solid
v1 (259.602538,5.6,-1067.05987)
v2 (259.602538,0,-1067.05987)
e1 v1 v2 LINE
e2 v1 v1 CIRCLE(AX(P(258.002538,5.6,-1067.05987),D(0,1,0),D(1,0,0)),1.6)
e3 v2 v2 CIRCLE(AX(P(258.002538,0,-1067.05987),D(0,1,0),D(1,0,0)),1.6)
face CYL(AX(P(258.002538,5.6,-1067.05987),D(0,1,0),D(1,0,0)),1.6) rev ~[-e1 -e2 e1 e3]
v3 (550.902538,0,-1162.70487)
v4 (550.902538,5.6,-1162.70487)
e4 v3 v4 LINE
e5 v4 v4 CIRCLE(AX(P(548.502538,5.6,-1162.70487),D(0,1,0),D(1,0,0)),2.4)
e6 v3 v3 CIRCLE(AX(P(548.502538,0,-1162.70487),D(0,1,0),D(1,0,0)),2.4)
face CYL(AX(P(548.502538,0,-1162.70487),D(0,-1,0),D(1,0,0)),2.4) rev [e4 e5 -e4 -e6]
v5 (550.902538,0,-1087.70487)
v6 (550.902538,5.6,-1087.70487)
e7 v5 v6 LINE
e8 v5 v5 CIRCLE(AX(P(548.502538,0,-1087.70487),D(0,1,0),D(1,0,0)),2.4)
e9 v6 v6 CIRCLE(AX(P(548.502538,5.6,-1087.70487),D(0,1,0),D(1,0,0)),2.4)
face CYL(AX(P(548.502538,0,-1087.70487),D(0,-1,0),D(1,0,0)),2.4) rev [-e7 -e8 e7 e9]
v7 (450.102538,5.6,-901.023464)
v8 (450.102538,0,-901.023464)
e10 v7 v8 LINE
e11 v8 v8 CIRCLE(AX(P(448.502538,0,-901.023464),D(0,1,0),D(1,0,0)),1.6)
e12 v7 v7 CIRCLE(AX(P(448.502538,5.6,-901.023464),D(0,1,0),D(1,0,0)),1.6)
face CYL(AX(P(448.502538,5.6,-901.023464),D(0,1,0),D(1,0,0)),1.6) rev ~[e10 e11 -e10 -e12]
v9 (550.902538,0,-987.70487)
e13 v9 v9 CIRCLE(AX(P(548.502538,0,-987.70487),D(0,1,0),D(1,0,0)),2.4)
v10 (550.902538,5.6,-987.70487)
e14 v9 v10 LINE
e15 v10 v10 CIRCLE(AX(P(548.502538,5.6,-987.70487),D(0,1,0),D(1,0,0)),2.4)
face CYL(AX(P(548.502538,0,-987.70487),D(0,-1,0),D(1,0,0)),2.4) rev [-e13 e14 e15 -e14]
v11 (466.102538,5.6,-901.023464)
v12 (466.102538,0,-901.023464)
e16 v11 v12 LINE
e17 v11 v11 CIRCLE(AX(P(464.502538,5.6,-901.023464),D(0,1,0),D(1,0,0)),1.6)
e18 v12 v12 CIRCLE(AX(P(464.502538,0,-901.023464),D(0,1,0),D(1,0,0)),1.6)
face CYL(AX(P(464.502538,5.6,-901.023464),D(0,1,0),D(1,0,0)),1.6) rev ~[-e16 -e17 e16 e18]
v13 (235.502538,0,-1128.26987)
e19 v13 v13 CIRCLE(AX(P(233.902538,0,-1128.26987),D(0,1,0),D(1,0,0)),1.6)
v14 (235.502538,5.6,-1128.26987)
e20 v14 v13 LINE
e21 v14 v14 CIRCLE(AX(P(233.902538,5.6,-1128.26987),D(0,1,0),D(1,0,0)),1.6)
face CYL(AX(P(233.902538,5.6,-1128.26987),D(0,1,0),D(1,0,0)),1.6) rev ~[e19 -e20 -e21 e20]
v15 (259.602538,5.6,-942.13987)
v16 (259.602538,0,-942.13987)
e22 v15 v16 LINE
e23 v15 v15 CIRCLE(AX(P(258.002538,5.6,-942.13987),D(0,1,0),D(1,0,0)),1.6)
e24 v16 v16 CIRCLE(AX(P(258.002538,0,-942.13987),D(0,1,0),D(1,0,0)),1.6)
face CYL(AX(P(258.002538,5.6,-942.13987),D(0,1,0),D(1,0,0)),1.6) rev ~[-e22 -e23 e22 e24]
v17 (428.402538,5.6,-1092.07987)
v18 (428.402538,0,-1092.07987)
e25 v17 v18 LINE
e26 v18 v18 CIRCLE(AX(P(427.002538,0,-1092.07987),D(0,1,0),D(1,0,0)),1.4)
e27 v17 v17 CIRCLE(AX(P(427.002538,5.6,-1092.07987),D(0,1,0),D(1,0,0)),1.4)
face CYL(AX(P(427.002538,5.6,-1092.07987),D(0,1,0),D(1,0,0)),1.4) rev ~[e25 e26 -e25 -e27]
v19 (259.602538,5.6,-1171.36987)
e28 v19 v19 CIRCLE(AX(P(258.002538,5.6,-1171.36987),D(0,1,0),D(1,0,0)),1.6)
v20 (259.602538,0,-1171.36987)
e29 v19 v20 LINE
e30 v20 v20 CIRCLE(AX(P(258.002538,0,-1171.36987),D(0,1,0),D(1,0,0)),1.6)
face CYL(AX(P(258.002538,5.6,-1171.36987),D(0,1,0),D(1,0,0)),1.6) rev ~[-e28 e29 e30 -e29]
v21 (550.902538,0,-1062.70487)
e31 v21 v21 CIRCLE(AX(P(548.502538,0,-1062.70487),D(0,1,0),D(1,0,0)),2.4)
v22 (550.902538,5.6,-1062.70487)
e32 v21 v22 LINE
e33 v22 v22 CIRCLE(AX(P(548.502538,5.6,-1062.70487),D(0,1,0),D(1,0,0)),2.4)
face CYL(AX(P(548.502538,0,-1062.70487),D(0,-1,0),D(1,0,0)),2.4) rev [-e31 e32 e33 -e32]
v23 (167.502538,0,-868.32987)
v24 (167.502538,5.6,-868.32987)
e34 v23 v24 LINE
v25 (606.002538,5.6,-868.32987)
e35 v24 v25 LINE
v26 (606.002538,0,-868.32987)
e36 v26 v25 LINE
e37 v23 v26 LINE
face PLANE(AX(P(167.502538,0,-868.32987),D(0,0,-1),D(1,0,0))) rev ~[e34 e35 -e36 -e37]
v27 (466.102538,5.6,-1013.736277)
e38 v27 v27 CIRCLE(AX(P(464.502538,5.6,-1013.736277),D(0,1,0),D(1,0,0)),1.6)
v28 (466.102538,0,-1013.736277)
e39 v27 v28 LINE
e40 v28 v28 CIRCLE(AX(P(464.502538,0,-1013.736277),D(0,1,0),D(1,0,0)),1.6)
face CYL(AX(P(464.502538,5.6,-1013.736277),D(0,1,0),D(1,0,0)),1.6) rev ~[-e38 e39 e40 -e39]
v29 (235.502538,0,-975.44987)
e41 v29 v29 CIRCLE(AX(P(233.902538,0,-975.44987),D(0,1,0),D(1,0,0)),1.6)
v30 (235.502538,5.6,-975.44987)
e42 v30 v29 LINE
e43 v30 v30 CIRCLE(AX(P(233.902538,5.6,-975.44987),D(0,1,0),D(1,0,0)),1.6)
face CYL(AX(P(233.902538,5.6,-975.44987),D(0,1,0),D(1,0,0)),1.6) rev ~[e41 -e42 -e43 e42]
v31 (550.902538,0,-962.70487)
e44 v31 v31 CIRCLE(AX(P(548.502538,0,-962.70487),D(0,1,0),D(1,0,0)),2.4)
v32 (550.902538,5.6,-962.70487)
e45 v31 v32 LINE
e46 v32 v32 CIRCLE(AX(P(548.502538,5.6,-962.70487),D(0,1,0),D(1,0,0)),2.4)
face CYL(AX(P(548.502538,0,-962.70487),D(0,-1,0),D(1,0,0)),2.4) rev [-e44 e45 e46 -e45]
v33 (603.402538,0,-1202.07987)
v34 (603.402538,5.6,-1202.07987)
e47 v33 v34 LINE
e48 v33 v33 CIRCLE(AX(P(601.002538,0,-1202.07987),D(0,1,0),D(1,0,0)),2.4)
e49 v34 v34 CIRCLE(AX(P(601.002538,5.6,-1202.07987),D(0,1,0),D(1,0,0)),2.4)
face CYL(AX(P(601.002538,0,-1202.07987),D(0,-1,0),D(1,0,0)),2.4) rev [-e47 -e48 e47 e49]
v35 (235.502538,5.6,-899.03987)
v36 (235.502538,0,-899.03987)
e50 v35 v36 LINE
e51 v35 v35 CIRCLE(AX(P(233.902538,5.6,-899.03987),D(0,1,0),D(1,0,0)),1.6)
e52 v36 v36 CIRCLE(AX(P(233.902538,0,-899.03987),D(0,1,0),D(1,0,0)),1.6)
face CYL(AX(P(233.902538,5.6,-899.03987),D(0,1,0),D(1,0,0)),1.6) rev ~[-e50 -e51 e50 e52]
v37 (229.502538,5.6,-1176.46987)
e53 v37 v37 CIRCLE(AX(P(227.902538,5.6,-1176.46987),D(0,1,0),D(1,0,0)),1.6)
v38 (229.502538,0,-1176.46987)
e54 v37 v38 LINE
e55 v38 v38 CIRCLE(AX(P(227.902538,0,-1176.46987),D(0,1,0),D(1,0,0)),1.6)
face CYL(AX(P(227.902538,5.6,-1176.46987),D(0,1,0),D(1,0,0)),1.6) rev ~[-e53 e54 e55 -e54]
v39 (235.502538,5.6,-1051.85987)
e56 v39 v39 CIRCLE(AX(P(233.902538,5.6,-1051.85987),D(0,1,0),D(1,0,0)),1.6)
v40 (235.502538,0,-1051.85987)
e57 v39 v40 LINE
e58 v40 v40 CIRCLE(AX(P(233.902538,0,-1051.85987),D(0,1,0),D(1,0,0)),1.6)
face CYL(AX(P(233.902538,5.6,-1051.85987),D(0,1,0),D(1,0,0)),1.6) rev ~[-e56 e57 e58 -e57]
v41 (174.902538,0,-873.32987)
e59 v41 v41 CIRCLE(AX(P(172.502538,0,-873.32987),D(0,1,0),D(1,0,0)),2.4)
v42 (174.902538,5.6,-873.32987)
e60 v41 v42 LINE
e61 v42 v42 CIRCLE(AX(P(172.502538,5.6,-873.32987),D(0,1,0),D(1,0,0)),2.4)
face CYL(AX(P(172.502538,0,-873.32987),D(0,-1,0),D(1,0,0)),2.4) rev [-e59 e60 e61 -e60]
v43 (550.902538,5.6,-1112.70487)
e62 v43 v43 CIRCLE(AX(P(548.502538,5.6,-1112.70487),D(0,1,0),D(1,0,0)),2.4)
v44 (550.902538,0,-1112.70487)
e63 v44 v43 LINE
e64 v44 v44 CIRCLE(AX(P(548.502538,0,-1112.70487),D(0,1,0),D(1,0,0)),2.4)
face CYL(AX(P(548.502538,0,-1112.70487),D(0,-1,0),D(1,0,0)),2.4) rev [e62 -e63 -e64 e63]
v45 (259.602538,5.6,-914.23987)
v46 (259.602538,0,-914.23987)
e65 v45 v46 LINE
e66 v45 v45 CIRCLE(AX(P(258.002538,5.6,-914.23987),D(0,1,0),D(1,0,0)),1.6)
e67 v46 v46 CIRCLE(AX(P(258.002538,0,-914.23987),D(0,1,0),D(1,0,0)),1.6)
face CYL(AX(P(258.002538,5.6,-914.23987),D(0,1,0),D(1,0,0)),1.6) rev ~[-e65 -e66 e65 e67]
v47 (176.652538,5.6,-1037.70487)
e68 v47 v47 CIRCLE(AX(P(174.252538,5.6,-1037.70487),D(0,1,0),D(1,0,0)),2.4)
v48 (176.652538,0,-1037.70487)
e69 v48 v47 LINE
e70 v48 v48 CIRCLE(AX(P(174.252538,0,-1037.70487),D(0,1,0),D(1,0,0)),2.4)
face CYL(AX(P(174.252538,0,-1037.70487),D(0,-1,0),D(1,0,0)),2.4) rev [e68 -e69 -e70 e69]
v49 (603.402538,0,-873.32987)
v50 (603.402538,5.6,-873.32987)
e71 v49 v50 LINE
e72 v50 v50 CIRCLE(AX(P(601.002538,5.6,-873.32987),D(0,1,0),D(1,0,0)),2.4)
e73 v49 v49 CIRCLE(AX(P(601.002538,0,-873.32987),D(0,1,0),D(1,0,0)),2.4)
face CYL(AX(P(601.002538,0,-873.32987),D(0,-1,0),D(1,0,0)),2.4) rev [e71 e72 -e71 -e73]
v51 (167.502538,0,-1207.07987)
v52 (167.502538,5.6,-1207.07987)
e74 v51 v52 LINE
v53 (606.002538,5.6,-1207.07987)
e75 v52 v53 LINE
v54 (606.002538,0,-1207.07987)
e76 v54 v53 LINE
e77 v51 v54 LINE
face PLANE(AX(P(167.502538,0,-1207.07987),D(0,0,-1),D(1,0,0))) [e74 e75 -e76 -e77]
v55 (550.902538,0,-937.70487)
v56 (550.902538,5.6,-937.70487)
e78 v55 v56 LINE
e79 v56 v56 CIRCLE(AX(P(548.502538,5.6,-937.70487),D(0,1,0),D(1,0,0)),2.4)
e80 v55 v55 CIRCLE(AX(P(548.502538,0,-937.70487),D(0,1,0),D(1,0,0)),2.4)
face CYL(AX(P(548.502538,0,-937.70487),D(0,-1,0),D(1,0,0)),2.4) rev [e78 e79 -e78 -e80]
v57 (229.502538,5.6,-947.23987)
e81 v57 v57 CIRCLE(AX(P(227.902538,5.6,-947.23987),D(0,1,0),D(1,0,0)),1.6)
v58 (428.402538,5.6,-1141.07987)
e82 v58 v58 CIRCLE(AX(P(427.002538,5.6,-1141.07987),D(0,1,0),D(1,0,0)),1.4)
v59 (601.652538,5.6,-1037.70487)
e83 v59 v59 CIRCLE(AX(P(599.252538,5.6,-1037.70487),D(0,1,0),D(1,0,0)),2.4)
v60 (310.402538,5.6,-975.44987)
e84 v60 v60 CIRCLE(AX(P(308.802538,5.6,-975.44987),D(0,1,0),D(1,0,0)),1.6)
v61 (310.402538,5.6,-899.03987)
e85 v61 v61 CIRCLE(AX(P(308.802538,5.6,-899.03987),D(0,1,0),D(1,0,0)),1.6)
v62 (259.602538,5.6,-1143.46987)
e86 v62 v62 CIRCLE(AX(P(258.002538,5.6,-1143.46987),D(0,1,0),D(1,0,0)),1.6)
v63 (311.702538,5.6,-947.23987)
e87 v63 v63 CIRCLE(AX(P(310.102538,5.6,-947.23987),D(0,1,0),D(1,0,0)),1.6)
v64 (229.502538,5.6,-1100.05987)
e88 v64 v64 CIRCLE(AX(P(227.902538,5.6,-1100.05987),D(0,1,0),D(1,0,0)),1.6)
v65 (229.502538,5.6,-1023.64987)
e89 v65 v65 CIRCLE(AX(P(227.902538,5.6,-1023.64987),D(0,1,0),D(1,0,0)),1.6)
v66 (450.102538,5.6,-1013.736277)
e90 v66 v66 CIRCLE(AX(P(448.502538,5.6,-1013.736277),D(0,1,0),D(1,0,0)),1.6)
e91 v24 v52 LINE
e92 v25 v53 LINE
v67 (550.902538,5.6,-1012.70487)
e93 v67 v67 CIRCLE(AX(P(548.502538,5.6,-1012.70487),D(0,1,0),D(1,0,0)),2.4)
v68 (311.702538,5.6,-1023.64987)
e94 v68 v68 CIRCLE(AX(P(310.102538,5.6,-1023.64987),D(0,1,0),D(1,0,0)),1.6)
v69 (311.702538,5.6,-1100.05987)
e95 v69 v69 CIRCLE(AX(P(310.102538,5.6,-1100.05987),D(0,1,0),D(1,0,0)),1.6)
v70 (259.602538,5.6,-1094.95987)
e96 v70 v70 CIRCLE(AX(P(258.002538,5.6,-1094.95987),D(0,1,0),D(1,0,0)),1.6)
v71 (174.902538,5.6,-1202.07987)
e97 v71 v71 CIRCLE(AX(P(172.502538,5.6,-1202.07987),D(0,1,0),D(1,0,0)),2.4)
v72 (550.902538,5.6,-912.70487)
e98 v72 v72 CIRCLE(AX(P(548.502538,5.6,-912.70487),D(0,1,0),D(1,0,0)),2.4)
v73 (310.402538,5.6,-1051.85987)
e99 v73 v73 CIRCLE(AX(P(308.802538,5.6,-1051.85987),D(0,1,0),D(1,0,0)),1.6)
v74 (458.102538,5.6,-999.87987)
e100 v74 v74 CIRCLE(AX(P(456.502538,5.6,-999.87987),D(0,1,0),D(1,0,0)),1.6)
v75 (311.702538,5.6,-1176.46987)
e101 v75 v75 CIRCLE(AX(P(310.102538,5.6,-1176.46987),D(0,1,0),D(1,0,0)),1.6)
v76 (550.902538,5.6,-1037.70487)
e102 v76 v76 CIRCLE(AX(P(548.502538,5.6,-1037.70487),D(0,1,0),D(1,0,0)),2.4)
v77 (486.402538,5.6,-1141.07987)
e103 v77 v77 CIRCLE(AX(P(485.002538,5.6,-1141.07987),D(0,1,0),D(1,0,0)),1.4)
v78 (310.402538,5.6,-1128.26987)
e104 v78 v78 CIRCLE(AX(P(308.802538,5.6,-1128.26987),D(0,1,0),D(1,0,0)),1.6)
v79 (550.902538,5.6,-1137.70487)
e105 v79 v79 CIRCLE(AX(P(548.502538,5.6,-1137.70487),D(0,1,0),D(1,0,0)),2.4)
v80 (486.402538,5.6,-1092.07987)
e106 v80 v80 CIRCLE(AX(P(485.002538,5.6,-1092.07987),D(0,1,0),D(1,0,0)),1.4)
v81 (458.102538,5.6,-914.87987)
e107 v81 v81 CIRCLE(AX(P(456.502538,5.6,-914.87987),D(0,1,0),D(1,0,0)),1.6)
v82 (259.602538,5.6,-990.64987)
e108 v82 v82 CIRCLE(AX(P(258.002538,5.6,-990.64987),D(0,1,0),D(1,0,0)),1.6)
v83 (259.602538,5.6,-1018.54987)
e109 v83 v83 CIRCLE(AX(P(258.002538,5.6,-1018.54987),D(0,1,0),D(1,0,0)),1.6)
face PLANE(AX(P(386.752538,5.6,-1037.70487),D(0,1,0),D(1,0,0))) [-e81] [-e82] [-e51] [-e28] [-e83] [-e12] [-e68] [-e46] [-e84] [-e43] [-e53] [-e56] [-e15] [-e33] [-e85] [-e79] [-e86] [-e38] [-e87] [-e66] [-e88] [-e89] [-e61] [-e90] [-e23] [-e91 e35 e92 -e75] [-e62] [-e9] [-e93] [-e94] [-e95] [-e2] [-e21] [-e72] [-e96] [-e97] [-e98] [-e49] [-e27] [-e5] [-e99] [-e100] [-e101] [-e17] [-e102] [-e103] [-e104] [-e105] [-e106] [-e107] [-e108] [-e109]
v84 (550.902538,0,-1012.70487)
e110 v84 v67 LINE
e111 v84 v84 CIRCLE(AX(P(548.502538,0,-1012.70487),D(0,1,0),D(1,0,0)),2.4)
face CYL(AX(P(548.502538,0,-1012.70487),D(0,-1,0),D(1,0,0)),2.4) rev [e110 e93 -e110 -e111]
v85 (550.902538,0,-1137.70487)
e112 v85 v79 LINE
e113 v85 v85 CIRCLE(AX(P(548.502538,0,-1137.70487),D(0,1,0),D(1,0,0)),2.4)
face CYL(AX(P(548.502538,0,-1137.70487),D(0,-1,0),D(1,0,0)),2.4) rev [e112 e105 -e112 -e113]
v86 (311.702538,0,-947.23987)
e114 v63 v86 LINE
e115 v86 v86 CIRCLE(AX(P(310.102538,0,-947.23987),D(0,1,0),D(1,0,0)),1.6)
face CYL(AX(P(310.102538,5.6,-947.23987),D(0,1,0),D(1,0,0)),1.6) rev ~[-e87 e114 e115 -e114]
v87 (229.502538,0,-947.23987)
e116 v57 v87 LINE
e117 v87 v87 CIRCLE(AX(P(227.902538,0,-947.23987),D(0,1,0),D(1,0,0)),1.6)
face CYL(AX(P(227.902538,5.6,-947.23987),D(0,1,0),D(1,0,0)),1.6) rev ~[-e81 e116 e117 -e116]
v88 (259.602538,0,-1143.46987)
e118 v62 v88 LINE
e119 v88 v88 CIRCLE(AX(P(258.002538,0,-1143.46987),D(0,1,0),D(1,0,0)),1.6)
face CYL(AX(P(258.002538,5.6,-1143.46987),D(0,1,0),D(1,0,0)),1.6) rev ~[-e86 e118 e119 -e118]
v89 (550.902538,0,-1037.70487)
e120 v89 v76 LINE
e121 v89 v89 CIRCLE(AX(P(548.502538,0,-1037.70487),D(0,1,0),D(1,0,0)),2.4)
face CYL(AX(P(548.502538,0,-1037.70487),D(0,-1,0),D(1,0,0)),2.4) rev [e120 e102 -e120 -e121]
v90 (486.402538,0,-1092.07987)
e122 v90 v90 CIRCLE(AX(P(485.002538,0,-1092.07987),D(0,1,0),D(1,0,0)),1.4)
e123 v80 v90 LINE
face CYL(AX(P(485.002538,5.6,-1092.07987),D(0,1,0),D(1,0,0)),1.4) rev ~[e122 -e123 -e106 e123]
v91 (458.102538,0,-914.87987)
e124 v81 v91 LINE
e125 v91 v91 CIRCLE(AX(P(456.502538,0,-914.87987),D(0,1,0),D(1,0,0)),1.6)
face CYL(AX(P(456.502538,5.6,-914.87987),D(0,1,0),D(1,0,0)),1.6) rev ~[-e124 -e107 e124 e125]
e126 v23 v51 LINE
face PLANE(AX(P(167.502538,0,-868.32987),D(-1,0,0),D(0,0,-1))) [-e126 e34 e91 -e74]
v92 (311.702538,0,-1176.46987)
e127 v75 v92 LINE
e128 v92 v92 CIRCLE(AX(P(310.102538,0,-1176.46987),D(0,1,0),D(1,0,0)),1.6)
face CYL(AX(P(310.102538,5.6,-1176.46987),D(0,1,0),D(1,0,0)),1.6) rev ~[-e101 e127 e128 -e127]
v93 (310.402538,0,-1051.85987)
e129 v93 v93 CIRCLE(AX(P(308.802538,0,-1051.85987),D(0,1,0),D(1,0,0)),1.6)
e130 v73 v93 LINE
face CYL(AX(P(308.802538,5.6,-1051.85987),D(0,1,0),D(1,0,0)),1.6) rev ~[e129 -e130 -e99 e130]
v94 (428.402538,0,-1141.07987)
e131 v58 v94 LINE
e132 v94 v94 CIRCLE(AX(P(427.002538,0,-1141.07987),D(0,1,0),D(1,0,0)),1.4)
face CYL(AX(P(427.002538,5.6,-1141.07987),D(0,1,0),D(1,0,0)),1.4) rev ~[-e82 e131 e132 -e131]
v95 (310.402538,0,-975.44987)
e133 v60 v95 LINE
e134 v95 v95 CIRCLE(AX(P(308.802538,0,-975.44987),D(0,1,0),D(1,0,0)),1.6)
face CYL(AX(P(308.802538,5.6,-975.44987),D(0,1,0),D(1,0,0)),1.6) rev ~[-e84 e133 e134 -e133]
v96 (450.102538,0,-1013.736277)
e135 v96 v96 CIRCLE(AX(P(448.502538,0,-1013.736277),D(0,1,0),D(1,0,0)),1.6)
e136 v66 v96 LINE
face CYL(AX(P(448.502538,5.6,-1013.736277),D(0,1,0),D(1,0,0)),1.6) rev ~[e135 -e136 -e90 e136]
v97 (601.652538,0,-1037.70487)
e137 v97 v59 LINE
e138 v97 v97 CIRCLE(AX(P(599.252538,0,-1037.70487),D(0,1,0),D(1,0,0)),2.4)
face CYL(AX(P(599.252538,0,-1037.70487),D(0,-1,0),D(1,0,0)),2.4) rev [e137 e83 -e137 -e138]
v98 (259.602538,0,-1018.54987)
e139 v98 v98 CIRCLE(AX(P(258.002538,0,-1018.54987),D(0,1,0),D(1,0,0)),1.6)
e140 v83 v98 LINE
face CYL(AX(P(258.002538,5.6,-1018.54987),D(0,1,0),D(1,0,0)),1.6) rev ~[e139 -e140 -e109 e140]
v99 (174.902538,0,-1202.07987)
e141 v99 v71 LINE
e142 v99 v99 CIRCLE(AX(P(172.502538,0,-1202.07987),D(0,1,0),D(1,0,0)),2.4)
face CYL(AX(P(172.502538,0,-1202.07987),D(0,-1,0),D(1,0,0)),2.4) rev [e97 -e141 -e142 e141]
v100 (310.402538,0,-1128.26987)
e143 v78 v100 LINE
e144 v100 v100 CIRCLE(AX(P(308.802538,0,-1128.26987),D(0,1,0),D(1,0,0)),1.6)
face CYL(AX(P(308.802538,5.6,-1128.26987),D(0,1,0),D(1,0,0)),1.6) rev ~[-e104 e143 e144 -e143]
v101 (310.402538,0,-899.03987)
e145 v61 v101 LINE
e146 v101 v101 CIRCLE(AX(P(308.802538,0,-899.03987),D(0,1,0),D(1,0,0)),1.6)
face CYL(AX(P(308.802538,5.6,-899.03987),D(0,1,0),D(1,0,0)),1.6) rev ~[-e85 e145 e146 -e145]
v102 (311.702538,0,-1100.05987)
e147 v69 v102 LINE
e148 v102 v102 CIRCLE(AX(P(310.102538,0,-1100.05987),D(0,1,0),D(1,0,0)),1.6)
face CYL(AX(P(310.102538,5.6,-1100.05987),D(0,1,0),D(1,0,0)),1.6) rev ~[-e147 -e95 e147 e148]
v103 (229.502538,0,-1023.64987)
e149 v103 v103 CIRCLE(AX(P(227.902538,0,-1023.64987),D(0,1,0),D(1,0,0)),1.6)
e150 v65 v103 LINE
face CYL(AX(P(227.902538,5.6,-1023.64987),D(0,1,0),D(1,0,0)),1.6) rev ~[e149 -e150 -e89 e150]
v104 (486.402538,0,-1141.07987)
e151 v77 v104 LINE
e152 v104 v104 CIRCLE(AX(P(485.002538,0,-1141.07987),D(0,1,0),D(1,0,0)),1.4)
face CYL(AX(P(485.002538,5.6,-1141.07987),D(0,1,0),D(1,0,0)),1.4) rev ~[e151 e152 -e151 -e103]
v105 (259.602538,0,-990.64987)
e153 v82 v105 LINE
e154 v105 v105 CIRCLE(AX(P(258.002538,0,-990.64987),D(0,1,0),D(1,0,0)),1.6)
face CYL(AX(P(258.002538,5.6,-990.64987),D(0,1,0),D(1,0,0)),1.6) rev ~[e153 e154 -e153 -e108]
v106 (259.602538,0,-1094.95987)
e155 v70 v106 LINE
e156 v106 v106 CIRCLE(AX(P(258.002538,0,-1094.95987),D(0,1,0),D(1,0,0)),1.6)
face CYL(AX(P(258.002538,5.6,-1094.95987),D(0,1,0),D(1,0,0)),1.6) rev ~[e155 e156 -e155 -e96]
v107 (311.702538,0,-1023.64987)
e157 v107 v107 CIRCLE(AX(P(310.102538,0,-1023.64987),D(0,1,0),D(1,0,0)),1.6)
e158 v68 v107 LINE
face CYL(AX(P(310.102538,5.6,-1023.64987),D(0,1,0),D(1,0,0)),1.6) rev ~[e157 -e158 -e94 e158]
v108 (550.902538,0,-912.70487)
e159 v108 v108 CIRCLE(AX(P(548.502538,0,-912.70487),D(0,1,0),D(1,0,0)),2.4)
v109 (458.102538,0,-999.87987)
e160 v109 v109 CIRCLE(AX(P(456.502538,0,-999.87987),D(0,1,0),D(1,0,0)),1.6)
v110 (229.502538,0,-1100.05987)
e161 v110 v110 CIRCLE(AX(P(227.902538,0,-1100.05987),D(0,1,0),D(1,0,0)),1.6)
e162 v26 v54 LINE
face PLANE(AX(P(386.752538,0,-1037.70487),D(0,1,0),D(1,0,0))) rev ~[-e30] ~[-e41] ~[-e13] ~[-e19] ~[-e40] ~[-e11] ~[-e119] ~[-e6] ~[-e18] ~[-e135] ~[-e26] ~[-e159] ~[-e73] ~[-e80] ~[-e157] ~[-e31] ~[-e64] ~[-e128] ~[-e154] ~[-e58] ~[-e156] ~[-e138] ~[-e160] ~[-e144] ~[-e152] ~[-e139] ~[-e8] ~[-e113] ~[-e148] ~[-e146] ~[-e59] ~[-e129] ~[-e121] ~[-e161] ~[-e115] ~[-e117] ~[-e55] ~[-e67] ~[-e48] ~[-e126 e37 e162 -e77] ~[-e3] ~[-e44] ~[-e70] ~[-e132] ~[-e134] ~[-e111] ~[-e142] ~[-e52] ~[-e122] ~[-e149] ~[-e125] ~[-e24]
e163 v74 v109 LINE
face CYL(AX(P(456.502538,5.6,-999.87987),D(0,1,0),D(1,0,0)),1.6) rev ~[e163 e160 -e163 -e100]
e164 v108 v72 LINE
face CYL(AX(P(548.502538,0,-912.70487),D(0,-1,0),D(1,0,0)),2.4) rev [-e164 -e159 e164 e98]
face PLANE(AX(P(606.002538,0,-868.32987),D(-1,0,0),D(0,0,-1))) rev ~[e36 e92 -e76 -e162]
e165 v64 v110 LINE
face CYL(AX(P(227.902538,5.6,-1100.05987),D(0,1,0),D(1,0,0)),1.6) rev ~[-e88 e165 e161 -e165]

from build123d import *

# Parameters (mm, degrees)
BACKPLANE_W         = 438.500000006
BACKPLANE_H         = 338.750000007
BACKPLANE_R         = 2.4
BOSS_EXTRUDE2_DEPTH = 5.6
SKETCH5_R           = 1.6
SKETCH5_R_2         = 1.4
CUT_EXTRUDE1_DEPTH  = 6.6


with BuildPart() as part:
    # Backplane → Boss-Extrude2 (new body)
    with BuildSketch(Plane(origin=(0, 0, 0), x_dir=(1, 0, 0), z_dir=(0, 1, 0))):
        with Locations((386.752537879, 1037.704870414)):
            Rectangle(BACKPLANE_W, BACKPLANE_H)
        with Locations((172.502537876, 1202.079870418)):
            Circle(BACKPLANE_R, mode=Mode.SUBTRACT)
        with Locations((601.002537882, 1202.079870418)):
            Circle(BACKPLANE_R, mode=Mode.SUBTRACT)
        with Locations((599.252537877, 1037.704870414)):
            Circle(BACKPLANE_R, mode=Mode.SUBTRACT)
        with Locations((601.002537882, 873.329870411)):
            Circle(BACKPLANE_R, mode=Mode.SUBTRACT)
        with Locations((172.502537876, 873.329870413)):
            Circle(BACKPLANE_R, mode=Mode.SUBTRACT)
        with Locations((174.252537874, 1037.704870414)):
            Circle(BACKPLANE_R, mode=Mode.SUBTRACT)
        with Locations((548.502537882, 1162.704870411)):
            Circle(BACKPLANE_R, mode=Mode.SUBTRACT)
        with Locations((548.502537882, 1137.704870411)):
            Circle(BACKPLANE_R, mode=Mode.SUBTRACT)
        with Locations((548.502537882, 1112.704870411)):
            Circle(BACKPLANE_R, mode=Mode.SUBTRACT)
        with Locations((548.502537882, 1087.704870411)):
            Circle(BACKPLANE_R, mode=Mode.SUBTRACT)
        with Locations((548.502537882, 1062.704870411)):
            Circle(BACKPLANE_R, mode=Mode.SUBTRACT)
        with Locations((548.502537882, 1037.704870411)):
            Circle(BACKPLANE_R, mode=Mode.SUBTRACT)
        with Locations((548.502537882, 1012.704870411)):
            Circle(BACKPLANE_R, mode=Mode.SUBTRACT)
        with Locations((548.502537882, 987.704870411)):
            Circle(BACKPLANE_R, mode=Mode.SUBTRACT)
        with Locations((548.502537882, 962.704870411)):
            Circle(BACKPLANE_R, mode=Mode.SUBTRACT)
        with Locations((548.502537882, 937.704870411)):
            Circle(BACKPLANE_R, mode=Mode.SUBTRACT)
        with Locations((548.502537882, 912.704870411)):
            Circle(BACKPLANE_R, mode=Mode.SUBTRACT)
    extrude(amount=BOSS_EXTRUDE2_DEPTH)

    # Sketch5 → Cut-Extrude1 (cut, through all)
    with BuildSketch(Plane(origin=(0, 5.6, 0), x_dir=(1, 0, 0), z_dir=(0, 1, 0))):
        with Locations((227.902537876, 1176.469870418)):
            Circle(SKETCH5_R)
        with Locations((310.102537876, 1176.469870418)):
            Circle(SKETCH5_R)
        with Locations((308.802537876, 1128.269870418)):
            Circle(SKETCH5_R)
        with Locations((233.902537876, 1128.269870418)):
            Circle(SKETCH5_R)
        with Locations((258.002537876, 1171.369870418)):
            Circle(SKETCH5_R)
        with Locations((258.002537876, 1143.469870418)):
            Circle(SKETCH5_R)
        with Locations((310.102537876, 1100.059870418)):
            Circle(SKETCH5_R)
        with Locations((308.802537876, 1051.859870418)):
            Circle(SKETCH5_R)
        with Locations((233.902537876, 1051.859870418)):
            Circle(SKETCH5_R)
        with Locations((258.002537876, 1094.959870418)):
            Circle(SKETCH5_R)
        with Locations((258.002537876, 1067.059870418)):
            Circle(SKETCH5_R)
        with Locations((227.902537876, 1100.059870418)):
            Circle(SKETCH5_R)
        with Locations((310.102537876, 1023.649870418)):
            Circle(SKETCH5_R)
        with Locations((308.802537876, 975.449870418)):
            Circle(SKETCH5_R)
        with Locations((233.902537876, 975.449870418)):
            Circle(SKETCH5_R)
        with Locations((258.002537876, 1018.549870418)):
            Circle(SKETCH5_R)
        with Locations((258.002537876, 990.649870418)):
            Circle(SKETCH5_R)
        with Locations((227.902537876, 1023.649870418)):
            Circle(SKETCH5_R)
        with Locations((310.102537876, 947.239870418)):
            Circle(SKETCH5_R)
        with Locations((308.802537876, 899.039870418)):
            Circle(SKETCH5_R)
        with Locations((233.902537876, 899.039870418)):
            Circle(SKETCH5_R)
        with Locations((258.002537876, 942.139870418)):
            Circle(SKETCH5_R)
        with Locations((258.002537876, 914.239870418)):
            Circle(SKETCH5_R)
        with Locations((227.902537876, 947.239870418)):
            Circle(SKETCH5_R)
        with Locations((464.502537882, 1013.736276878)):
            Circle(SKETCH5_R)
        with Locations((456.502537882, 999.879870418)):
            Circle(SKETCH5_R)
        with Locations((448.502537882, 1013.736276878)):
            Circle(SKETCH5_R)
        with Locations((464.502537882, 901.023463957)):
            Circle(SKETCH5_R)
        with Locations((448.502537882, 901.023463957)):
            Circle(SKETCH5_R)
        with Locations((456.502537882, 914.879870418)):
            Circle(SKETCH5_R)
        with Locations((485.002537882, 1141.079870418)):
            Circle(SKETCH5_R_2)
        with Locations((485.002537882, 1092.079870418)):
            Circle(SKETCH5_R_2)
        with Locations((427.002537882, 1092.079870418)):
            Circle(SKETCH5_R_2)
        with Locations((427.002537882, 1141.079870418)):
            Circle(SKETCH5_R_2)
    extrude(amount=-CUT_EXTRUDE1_DEPTH, mode=Mode.SUBTRACT)


solid = part.part
